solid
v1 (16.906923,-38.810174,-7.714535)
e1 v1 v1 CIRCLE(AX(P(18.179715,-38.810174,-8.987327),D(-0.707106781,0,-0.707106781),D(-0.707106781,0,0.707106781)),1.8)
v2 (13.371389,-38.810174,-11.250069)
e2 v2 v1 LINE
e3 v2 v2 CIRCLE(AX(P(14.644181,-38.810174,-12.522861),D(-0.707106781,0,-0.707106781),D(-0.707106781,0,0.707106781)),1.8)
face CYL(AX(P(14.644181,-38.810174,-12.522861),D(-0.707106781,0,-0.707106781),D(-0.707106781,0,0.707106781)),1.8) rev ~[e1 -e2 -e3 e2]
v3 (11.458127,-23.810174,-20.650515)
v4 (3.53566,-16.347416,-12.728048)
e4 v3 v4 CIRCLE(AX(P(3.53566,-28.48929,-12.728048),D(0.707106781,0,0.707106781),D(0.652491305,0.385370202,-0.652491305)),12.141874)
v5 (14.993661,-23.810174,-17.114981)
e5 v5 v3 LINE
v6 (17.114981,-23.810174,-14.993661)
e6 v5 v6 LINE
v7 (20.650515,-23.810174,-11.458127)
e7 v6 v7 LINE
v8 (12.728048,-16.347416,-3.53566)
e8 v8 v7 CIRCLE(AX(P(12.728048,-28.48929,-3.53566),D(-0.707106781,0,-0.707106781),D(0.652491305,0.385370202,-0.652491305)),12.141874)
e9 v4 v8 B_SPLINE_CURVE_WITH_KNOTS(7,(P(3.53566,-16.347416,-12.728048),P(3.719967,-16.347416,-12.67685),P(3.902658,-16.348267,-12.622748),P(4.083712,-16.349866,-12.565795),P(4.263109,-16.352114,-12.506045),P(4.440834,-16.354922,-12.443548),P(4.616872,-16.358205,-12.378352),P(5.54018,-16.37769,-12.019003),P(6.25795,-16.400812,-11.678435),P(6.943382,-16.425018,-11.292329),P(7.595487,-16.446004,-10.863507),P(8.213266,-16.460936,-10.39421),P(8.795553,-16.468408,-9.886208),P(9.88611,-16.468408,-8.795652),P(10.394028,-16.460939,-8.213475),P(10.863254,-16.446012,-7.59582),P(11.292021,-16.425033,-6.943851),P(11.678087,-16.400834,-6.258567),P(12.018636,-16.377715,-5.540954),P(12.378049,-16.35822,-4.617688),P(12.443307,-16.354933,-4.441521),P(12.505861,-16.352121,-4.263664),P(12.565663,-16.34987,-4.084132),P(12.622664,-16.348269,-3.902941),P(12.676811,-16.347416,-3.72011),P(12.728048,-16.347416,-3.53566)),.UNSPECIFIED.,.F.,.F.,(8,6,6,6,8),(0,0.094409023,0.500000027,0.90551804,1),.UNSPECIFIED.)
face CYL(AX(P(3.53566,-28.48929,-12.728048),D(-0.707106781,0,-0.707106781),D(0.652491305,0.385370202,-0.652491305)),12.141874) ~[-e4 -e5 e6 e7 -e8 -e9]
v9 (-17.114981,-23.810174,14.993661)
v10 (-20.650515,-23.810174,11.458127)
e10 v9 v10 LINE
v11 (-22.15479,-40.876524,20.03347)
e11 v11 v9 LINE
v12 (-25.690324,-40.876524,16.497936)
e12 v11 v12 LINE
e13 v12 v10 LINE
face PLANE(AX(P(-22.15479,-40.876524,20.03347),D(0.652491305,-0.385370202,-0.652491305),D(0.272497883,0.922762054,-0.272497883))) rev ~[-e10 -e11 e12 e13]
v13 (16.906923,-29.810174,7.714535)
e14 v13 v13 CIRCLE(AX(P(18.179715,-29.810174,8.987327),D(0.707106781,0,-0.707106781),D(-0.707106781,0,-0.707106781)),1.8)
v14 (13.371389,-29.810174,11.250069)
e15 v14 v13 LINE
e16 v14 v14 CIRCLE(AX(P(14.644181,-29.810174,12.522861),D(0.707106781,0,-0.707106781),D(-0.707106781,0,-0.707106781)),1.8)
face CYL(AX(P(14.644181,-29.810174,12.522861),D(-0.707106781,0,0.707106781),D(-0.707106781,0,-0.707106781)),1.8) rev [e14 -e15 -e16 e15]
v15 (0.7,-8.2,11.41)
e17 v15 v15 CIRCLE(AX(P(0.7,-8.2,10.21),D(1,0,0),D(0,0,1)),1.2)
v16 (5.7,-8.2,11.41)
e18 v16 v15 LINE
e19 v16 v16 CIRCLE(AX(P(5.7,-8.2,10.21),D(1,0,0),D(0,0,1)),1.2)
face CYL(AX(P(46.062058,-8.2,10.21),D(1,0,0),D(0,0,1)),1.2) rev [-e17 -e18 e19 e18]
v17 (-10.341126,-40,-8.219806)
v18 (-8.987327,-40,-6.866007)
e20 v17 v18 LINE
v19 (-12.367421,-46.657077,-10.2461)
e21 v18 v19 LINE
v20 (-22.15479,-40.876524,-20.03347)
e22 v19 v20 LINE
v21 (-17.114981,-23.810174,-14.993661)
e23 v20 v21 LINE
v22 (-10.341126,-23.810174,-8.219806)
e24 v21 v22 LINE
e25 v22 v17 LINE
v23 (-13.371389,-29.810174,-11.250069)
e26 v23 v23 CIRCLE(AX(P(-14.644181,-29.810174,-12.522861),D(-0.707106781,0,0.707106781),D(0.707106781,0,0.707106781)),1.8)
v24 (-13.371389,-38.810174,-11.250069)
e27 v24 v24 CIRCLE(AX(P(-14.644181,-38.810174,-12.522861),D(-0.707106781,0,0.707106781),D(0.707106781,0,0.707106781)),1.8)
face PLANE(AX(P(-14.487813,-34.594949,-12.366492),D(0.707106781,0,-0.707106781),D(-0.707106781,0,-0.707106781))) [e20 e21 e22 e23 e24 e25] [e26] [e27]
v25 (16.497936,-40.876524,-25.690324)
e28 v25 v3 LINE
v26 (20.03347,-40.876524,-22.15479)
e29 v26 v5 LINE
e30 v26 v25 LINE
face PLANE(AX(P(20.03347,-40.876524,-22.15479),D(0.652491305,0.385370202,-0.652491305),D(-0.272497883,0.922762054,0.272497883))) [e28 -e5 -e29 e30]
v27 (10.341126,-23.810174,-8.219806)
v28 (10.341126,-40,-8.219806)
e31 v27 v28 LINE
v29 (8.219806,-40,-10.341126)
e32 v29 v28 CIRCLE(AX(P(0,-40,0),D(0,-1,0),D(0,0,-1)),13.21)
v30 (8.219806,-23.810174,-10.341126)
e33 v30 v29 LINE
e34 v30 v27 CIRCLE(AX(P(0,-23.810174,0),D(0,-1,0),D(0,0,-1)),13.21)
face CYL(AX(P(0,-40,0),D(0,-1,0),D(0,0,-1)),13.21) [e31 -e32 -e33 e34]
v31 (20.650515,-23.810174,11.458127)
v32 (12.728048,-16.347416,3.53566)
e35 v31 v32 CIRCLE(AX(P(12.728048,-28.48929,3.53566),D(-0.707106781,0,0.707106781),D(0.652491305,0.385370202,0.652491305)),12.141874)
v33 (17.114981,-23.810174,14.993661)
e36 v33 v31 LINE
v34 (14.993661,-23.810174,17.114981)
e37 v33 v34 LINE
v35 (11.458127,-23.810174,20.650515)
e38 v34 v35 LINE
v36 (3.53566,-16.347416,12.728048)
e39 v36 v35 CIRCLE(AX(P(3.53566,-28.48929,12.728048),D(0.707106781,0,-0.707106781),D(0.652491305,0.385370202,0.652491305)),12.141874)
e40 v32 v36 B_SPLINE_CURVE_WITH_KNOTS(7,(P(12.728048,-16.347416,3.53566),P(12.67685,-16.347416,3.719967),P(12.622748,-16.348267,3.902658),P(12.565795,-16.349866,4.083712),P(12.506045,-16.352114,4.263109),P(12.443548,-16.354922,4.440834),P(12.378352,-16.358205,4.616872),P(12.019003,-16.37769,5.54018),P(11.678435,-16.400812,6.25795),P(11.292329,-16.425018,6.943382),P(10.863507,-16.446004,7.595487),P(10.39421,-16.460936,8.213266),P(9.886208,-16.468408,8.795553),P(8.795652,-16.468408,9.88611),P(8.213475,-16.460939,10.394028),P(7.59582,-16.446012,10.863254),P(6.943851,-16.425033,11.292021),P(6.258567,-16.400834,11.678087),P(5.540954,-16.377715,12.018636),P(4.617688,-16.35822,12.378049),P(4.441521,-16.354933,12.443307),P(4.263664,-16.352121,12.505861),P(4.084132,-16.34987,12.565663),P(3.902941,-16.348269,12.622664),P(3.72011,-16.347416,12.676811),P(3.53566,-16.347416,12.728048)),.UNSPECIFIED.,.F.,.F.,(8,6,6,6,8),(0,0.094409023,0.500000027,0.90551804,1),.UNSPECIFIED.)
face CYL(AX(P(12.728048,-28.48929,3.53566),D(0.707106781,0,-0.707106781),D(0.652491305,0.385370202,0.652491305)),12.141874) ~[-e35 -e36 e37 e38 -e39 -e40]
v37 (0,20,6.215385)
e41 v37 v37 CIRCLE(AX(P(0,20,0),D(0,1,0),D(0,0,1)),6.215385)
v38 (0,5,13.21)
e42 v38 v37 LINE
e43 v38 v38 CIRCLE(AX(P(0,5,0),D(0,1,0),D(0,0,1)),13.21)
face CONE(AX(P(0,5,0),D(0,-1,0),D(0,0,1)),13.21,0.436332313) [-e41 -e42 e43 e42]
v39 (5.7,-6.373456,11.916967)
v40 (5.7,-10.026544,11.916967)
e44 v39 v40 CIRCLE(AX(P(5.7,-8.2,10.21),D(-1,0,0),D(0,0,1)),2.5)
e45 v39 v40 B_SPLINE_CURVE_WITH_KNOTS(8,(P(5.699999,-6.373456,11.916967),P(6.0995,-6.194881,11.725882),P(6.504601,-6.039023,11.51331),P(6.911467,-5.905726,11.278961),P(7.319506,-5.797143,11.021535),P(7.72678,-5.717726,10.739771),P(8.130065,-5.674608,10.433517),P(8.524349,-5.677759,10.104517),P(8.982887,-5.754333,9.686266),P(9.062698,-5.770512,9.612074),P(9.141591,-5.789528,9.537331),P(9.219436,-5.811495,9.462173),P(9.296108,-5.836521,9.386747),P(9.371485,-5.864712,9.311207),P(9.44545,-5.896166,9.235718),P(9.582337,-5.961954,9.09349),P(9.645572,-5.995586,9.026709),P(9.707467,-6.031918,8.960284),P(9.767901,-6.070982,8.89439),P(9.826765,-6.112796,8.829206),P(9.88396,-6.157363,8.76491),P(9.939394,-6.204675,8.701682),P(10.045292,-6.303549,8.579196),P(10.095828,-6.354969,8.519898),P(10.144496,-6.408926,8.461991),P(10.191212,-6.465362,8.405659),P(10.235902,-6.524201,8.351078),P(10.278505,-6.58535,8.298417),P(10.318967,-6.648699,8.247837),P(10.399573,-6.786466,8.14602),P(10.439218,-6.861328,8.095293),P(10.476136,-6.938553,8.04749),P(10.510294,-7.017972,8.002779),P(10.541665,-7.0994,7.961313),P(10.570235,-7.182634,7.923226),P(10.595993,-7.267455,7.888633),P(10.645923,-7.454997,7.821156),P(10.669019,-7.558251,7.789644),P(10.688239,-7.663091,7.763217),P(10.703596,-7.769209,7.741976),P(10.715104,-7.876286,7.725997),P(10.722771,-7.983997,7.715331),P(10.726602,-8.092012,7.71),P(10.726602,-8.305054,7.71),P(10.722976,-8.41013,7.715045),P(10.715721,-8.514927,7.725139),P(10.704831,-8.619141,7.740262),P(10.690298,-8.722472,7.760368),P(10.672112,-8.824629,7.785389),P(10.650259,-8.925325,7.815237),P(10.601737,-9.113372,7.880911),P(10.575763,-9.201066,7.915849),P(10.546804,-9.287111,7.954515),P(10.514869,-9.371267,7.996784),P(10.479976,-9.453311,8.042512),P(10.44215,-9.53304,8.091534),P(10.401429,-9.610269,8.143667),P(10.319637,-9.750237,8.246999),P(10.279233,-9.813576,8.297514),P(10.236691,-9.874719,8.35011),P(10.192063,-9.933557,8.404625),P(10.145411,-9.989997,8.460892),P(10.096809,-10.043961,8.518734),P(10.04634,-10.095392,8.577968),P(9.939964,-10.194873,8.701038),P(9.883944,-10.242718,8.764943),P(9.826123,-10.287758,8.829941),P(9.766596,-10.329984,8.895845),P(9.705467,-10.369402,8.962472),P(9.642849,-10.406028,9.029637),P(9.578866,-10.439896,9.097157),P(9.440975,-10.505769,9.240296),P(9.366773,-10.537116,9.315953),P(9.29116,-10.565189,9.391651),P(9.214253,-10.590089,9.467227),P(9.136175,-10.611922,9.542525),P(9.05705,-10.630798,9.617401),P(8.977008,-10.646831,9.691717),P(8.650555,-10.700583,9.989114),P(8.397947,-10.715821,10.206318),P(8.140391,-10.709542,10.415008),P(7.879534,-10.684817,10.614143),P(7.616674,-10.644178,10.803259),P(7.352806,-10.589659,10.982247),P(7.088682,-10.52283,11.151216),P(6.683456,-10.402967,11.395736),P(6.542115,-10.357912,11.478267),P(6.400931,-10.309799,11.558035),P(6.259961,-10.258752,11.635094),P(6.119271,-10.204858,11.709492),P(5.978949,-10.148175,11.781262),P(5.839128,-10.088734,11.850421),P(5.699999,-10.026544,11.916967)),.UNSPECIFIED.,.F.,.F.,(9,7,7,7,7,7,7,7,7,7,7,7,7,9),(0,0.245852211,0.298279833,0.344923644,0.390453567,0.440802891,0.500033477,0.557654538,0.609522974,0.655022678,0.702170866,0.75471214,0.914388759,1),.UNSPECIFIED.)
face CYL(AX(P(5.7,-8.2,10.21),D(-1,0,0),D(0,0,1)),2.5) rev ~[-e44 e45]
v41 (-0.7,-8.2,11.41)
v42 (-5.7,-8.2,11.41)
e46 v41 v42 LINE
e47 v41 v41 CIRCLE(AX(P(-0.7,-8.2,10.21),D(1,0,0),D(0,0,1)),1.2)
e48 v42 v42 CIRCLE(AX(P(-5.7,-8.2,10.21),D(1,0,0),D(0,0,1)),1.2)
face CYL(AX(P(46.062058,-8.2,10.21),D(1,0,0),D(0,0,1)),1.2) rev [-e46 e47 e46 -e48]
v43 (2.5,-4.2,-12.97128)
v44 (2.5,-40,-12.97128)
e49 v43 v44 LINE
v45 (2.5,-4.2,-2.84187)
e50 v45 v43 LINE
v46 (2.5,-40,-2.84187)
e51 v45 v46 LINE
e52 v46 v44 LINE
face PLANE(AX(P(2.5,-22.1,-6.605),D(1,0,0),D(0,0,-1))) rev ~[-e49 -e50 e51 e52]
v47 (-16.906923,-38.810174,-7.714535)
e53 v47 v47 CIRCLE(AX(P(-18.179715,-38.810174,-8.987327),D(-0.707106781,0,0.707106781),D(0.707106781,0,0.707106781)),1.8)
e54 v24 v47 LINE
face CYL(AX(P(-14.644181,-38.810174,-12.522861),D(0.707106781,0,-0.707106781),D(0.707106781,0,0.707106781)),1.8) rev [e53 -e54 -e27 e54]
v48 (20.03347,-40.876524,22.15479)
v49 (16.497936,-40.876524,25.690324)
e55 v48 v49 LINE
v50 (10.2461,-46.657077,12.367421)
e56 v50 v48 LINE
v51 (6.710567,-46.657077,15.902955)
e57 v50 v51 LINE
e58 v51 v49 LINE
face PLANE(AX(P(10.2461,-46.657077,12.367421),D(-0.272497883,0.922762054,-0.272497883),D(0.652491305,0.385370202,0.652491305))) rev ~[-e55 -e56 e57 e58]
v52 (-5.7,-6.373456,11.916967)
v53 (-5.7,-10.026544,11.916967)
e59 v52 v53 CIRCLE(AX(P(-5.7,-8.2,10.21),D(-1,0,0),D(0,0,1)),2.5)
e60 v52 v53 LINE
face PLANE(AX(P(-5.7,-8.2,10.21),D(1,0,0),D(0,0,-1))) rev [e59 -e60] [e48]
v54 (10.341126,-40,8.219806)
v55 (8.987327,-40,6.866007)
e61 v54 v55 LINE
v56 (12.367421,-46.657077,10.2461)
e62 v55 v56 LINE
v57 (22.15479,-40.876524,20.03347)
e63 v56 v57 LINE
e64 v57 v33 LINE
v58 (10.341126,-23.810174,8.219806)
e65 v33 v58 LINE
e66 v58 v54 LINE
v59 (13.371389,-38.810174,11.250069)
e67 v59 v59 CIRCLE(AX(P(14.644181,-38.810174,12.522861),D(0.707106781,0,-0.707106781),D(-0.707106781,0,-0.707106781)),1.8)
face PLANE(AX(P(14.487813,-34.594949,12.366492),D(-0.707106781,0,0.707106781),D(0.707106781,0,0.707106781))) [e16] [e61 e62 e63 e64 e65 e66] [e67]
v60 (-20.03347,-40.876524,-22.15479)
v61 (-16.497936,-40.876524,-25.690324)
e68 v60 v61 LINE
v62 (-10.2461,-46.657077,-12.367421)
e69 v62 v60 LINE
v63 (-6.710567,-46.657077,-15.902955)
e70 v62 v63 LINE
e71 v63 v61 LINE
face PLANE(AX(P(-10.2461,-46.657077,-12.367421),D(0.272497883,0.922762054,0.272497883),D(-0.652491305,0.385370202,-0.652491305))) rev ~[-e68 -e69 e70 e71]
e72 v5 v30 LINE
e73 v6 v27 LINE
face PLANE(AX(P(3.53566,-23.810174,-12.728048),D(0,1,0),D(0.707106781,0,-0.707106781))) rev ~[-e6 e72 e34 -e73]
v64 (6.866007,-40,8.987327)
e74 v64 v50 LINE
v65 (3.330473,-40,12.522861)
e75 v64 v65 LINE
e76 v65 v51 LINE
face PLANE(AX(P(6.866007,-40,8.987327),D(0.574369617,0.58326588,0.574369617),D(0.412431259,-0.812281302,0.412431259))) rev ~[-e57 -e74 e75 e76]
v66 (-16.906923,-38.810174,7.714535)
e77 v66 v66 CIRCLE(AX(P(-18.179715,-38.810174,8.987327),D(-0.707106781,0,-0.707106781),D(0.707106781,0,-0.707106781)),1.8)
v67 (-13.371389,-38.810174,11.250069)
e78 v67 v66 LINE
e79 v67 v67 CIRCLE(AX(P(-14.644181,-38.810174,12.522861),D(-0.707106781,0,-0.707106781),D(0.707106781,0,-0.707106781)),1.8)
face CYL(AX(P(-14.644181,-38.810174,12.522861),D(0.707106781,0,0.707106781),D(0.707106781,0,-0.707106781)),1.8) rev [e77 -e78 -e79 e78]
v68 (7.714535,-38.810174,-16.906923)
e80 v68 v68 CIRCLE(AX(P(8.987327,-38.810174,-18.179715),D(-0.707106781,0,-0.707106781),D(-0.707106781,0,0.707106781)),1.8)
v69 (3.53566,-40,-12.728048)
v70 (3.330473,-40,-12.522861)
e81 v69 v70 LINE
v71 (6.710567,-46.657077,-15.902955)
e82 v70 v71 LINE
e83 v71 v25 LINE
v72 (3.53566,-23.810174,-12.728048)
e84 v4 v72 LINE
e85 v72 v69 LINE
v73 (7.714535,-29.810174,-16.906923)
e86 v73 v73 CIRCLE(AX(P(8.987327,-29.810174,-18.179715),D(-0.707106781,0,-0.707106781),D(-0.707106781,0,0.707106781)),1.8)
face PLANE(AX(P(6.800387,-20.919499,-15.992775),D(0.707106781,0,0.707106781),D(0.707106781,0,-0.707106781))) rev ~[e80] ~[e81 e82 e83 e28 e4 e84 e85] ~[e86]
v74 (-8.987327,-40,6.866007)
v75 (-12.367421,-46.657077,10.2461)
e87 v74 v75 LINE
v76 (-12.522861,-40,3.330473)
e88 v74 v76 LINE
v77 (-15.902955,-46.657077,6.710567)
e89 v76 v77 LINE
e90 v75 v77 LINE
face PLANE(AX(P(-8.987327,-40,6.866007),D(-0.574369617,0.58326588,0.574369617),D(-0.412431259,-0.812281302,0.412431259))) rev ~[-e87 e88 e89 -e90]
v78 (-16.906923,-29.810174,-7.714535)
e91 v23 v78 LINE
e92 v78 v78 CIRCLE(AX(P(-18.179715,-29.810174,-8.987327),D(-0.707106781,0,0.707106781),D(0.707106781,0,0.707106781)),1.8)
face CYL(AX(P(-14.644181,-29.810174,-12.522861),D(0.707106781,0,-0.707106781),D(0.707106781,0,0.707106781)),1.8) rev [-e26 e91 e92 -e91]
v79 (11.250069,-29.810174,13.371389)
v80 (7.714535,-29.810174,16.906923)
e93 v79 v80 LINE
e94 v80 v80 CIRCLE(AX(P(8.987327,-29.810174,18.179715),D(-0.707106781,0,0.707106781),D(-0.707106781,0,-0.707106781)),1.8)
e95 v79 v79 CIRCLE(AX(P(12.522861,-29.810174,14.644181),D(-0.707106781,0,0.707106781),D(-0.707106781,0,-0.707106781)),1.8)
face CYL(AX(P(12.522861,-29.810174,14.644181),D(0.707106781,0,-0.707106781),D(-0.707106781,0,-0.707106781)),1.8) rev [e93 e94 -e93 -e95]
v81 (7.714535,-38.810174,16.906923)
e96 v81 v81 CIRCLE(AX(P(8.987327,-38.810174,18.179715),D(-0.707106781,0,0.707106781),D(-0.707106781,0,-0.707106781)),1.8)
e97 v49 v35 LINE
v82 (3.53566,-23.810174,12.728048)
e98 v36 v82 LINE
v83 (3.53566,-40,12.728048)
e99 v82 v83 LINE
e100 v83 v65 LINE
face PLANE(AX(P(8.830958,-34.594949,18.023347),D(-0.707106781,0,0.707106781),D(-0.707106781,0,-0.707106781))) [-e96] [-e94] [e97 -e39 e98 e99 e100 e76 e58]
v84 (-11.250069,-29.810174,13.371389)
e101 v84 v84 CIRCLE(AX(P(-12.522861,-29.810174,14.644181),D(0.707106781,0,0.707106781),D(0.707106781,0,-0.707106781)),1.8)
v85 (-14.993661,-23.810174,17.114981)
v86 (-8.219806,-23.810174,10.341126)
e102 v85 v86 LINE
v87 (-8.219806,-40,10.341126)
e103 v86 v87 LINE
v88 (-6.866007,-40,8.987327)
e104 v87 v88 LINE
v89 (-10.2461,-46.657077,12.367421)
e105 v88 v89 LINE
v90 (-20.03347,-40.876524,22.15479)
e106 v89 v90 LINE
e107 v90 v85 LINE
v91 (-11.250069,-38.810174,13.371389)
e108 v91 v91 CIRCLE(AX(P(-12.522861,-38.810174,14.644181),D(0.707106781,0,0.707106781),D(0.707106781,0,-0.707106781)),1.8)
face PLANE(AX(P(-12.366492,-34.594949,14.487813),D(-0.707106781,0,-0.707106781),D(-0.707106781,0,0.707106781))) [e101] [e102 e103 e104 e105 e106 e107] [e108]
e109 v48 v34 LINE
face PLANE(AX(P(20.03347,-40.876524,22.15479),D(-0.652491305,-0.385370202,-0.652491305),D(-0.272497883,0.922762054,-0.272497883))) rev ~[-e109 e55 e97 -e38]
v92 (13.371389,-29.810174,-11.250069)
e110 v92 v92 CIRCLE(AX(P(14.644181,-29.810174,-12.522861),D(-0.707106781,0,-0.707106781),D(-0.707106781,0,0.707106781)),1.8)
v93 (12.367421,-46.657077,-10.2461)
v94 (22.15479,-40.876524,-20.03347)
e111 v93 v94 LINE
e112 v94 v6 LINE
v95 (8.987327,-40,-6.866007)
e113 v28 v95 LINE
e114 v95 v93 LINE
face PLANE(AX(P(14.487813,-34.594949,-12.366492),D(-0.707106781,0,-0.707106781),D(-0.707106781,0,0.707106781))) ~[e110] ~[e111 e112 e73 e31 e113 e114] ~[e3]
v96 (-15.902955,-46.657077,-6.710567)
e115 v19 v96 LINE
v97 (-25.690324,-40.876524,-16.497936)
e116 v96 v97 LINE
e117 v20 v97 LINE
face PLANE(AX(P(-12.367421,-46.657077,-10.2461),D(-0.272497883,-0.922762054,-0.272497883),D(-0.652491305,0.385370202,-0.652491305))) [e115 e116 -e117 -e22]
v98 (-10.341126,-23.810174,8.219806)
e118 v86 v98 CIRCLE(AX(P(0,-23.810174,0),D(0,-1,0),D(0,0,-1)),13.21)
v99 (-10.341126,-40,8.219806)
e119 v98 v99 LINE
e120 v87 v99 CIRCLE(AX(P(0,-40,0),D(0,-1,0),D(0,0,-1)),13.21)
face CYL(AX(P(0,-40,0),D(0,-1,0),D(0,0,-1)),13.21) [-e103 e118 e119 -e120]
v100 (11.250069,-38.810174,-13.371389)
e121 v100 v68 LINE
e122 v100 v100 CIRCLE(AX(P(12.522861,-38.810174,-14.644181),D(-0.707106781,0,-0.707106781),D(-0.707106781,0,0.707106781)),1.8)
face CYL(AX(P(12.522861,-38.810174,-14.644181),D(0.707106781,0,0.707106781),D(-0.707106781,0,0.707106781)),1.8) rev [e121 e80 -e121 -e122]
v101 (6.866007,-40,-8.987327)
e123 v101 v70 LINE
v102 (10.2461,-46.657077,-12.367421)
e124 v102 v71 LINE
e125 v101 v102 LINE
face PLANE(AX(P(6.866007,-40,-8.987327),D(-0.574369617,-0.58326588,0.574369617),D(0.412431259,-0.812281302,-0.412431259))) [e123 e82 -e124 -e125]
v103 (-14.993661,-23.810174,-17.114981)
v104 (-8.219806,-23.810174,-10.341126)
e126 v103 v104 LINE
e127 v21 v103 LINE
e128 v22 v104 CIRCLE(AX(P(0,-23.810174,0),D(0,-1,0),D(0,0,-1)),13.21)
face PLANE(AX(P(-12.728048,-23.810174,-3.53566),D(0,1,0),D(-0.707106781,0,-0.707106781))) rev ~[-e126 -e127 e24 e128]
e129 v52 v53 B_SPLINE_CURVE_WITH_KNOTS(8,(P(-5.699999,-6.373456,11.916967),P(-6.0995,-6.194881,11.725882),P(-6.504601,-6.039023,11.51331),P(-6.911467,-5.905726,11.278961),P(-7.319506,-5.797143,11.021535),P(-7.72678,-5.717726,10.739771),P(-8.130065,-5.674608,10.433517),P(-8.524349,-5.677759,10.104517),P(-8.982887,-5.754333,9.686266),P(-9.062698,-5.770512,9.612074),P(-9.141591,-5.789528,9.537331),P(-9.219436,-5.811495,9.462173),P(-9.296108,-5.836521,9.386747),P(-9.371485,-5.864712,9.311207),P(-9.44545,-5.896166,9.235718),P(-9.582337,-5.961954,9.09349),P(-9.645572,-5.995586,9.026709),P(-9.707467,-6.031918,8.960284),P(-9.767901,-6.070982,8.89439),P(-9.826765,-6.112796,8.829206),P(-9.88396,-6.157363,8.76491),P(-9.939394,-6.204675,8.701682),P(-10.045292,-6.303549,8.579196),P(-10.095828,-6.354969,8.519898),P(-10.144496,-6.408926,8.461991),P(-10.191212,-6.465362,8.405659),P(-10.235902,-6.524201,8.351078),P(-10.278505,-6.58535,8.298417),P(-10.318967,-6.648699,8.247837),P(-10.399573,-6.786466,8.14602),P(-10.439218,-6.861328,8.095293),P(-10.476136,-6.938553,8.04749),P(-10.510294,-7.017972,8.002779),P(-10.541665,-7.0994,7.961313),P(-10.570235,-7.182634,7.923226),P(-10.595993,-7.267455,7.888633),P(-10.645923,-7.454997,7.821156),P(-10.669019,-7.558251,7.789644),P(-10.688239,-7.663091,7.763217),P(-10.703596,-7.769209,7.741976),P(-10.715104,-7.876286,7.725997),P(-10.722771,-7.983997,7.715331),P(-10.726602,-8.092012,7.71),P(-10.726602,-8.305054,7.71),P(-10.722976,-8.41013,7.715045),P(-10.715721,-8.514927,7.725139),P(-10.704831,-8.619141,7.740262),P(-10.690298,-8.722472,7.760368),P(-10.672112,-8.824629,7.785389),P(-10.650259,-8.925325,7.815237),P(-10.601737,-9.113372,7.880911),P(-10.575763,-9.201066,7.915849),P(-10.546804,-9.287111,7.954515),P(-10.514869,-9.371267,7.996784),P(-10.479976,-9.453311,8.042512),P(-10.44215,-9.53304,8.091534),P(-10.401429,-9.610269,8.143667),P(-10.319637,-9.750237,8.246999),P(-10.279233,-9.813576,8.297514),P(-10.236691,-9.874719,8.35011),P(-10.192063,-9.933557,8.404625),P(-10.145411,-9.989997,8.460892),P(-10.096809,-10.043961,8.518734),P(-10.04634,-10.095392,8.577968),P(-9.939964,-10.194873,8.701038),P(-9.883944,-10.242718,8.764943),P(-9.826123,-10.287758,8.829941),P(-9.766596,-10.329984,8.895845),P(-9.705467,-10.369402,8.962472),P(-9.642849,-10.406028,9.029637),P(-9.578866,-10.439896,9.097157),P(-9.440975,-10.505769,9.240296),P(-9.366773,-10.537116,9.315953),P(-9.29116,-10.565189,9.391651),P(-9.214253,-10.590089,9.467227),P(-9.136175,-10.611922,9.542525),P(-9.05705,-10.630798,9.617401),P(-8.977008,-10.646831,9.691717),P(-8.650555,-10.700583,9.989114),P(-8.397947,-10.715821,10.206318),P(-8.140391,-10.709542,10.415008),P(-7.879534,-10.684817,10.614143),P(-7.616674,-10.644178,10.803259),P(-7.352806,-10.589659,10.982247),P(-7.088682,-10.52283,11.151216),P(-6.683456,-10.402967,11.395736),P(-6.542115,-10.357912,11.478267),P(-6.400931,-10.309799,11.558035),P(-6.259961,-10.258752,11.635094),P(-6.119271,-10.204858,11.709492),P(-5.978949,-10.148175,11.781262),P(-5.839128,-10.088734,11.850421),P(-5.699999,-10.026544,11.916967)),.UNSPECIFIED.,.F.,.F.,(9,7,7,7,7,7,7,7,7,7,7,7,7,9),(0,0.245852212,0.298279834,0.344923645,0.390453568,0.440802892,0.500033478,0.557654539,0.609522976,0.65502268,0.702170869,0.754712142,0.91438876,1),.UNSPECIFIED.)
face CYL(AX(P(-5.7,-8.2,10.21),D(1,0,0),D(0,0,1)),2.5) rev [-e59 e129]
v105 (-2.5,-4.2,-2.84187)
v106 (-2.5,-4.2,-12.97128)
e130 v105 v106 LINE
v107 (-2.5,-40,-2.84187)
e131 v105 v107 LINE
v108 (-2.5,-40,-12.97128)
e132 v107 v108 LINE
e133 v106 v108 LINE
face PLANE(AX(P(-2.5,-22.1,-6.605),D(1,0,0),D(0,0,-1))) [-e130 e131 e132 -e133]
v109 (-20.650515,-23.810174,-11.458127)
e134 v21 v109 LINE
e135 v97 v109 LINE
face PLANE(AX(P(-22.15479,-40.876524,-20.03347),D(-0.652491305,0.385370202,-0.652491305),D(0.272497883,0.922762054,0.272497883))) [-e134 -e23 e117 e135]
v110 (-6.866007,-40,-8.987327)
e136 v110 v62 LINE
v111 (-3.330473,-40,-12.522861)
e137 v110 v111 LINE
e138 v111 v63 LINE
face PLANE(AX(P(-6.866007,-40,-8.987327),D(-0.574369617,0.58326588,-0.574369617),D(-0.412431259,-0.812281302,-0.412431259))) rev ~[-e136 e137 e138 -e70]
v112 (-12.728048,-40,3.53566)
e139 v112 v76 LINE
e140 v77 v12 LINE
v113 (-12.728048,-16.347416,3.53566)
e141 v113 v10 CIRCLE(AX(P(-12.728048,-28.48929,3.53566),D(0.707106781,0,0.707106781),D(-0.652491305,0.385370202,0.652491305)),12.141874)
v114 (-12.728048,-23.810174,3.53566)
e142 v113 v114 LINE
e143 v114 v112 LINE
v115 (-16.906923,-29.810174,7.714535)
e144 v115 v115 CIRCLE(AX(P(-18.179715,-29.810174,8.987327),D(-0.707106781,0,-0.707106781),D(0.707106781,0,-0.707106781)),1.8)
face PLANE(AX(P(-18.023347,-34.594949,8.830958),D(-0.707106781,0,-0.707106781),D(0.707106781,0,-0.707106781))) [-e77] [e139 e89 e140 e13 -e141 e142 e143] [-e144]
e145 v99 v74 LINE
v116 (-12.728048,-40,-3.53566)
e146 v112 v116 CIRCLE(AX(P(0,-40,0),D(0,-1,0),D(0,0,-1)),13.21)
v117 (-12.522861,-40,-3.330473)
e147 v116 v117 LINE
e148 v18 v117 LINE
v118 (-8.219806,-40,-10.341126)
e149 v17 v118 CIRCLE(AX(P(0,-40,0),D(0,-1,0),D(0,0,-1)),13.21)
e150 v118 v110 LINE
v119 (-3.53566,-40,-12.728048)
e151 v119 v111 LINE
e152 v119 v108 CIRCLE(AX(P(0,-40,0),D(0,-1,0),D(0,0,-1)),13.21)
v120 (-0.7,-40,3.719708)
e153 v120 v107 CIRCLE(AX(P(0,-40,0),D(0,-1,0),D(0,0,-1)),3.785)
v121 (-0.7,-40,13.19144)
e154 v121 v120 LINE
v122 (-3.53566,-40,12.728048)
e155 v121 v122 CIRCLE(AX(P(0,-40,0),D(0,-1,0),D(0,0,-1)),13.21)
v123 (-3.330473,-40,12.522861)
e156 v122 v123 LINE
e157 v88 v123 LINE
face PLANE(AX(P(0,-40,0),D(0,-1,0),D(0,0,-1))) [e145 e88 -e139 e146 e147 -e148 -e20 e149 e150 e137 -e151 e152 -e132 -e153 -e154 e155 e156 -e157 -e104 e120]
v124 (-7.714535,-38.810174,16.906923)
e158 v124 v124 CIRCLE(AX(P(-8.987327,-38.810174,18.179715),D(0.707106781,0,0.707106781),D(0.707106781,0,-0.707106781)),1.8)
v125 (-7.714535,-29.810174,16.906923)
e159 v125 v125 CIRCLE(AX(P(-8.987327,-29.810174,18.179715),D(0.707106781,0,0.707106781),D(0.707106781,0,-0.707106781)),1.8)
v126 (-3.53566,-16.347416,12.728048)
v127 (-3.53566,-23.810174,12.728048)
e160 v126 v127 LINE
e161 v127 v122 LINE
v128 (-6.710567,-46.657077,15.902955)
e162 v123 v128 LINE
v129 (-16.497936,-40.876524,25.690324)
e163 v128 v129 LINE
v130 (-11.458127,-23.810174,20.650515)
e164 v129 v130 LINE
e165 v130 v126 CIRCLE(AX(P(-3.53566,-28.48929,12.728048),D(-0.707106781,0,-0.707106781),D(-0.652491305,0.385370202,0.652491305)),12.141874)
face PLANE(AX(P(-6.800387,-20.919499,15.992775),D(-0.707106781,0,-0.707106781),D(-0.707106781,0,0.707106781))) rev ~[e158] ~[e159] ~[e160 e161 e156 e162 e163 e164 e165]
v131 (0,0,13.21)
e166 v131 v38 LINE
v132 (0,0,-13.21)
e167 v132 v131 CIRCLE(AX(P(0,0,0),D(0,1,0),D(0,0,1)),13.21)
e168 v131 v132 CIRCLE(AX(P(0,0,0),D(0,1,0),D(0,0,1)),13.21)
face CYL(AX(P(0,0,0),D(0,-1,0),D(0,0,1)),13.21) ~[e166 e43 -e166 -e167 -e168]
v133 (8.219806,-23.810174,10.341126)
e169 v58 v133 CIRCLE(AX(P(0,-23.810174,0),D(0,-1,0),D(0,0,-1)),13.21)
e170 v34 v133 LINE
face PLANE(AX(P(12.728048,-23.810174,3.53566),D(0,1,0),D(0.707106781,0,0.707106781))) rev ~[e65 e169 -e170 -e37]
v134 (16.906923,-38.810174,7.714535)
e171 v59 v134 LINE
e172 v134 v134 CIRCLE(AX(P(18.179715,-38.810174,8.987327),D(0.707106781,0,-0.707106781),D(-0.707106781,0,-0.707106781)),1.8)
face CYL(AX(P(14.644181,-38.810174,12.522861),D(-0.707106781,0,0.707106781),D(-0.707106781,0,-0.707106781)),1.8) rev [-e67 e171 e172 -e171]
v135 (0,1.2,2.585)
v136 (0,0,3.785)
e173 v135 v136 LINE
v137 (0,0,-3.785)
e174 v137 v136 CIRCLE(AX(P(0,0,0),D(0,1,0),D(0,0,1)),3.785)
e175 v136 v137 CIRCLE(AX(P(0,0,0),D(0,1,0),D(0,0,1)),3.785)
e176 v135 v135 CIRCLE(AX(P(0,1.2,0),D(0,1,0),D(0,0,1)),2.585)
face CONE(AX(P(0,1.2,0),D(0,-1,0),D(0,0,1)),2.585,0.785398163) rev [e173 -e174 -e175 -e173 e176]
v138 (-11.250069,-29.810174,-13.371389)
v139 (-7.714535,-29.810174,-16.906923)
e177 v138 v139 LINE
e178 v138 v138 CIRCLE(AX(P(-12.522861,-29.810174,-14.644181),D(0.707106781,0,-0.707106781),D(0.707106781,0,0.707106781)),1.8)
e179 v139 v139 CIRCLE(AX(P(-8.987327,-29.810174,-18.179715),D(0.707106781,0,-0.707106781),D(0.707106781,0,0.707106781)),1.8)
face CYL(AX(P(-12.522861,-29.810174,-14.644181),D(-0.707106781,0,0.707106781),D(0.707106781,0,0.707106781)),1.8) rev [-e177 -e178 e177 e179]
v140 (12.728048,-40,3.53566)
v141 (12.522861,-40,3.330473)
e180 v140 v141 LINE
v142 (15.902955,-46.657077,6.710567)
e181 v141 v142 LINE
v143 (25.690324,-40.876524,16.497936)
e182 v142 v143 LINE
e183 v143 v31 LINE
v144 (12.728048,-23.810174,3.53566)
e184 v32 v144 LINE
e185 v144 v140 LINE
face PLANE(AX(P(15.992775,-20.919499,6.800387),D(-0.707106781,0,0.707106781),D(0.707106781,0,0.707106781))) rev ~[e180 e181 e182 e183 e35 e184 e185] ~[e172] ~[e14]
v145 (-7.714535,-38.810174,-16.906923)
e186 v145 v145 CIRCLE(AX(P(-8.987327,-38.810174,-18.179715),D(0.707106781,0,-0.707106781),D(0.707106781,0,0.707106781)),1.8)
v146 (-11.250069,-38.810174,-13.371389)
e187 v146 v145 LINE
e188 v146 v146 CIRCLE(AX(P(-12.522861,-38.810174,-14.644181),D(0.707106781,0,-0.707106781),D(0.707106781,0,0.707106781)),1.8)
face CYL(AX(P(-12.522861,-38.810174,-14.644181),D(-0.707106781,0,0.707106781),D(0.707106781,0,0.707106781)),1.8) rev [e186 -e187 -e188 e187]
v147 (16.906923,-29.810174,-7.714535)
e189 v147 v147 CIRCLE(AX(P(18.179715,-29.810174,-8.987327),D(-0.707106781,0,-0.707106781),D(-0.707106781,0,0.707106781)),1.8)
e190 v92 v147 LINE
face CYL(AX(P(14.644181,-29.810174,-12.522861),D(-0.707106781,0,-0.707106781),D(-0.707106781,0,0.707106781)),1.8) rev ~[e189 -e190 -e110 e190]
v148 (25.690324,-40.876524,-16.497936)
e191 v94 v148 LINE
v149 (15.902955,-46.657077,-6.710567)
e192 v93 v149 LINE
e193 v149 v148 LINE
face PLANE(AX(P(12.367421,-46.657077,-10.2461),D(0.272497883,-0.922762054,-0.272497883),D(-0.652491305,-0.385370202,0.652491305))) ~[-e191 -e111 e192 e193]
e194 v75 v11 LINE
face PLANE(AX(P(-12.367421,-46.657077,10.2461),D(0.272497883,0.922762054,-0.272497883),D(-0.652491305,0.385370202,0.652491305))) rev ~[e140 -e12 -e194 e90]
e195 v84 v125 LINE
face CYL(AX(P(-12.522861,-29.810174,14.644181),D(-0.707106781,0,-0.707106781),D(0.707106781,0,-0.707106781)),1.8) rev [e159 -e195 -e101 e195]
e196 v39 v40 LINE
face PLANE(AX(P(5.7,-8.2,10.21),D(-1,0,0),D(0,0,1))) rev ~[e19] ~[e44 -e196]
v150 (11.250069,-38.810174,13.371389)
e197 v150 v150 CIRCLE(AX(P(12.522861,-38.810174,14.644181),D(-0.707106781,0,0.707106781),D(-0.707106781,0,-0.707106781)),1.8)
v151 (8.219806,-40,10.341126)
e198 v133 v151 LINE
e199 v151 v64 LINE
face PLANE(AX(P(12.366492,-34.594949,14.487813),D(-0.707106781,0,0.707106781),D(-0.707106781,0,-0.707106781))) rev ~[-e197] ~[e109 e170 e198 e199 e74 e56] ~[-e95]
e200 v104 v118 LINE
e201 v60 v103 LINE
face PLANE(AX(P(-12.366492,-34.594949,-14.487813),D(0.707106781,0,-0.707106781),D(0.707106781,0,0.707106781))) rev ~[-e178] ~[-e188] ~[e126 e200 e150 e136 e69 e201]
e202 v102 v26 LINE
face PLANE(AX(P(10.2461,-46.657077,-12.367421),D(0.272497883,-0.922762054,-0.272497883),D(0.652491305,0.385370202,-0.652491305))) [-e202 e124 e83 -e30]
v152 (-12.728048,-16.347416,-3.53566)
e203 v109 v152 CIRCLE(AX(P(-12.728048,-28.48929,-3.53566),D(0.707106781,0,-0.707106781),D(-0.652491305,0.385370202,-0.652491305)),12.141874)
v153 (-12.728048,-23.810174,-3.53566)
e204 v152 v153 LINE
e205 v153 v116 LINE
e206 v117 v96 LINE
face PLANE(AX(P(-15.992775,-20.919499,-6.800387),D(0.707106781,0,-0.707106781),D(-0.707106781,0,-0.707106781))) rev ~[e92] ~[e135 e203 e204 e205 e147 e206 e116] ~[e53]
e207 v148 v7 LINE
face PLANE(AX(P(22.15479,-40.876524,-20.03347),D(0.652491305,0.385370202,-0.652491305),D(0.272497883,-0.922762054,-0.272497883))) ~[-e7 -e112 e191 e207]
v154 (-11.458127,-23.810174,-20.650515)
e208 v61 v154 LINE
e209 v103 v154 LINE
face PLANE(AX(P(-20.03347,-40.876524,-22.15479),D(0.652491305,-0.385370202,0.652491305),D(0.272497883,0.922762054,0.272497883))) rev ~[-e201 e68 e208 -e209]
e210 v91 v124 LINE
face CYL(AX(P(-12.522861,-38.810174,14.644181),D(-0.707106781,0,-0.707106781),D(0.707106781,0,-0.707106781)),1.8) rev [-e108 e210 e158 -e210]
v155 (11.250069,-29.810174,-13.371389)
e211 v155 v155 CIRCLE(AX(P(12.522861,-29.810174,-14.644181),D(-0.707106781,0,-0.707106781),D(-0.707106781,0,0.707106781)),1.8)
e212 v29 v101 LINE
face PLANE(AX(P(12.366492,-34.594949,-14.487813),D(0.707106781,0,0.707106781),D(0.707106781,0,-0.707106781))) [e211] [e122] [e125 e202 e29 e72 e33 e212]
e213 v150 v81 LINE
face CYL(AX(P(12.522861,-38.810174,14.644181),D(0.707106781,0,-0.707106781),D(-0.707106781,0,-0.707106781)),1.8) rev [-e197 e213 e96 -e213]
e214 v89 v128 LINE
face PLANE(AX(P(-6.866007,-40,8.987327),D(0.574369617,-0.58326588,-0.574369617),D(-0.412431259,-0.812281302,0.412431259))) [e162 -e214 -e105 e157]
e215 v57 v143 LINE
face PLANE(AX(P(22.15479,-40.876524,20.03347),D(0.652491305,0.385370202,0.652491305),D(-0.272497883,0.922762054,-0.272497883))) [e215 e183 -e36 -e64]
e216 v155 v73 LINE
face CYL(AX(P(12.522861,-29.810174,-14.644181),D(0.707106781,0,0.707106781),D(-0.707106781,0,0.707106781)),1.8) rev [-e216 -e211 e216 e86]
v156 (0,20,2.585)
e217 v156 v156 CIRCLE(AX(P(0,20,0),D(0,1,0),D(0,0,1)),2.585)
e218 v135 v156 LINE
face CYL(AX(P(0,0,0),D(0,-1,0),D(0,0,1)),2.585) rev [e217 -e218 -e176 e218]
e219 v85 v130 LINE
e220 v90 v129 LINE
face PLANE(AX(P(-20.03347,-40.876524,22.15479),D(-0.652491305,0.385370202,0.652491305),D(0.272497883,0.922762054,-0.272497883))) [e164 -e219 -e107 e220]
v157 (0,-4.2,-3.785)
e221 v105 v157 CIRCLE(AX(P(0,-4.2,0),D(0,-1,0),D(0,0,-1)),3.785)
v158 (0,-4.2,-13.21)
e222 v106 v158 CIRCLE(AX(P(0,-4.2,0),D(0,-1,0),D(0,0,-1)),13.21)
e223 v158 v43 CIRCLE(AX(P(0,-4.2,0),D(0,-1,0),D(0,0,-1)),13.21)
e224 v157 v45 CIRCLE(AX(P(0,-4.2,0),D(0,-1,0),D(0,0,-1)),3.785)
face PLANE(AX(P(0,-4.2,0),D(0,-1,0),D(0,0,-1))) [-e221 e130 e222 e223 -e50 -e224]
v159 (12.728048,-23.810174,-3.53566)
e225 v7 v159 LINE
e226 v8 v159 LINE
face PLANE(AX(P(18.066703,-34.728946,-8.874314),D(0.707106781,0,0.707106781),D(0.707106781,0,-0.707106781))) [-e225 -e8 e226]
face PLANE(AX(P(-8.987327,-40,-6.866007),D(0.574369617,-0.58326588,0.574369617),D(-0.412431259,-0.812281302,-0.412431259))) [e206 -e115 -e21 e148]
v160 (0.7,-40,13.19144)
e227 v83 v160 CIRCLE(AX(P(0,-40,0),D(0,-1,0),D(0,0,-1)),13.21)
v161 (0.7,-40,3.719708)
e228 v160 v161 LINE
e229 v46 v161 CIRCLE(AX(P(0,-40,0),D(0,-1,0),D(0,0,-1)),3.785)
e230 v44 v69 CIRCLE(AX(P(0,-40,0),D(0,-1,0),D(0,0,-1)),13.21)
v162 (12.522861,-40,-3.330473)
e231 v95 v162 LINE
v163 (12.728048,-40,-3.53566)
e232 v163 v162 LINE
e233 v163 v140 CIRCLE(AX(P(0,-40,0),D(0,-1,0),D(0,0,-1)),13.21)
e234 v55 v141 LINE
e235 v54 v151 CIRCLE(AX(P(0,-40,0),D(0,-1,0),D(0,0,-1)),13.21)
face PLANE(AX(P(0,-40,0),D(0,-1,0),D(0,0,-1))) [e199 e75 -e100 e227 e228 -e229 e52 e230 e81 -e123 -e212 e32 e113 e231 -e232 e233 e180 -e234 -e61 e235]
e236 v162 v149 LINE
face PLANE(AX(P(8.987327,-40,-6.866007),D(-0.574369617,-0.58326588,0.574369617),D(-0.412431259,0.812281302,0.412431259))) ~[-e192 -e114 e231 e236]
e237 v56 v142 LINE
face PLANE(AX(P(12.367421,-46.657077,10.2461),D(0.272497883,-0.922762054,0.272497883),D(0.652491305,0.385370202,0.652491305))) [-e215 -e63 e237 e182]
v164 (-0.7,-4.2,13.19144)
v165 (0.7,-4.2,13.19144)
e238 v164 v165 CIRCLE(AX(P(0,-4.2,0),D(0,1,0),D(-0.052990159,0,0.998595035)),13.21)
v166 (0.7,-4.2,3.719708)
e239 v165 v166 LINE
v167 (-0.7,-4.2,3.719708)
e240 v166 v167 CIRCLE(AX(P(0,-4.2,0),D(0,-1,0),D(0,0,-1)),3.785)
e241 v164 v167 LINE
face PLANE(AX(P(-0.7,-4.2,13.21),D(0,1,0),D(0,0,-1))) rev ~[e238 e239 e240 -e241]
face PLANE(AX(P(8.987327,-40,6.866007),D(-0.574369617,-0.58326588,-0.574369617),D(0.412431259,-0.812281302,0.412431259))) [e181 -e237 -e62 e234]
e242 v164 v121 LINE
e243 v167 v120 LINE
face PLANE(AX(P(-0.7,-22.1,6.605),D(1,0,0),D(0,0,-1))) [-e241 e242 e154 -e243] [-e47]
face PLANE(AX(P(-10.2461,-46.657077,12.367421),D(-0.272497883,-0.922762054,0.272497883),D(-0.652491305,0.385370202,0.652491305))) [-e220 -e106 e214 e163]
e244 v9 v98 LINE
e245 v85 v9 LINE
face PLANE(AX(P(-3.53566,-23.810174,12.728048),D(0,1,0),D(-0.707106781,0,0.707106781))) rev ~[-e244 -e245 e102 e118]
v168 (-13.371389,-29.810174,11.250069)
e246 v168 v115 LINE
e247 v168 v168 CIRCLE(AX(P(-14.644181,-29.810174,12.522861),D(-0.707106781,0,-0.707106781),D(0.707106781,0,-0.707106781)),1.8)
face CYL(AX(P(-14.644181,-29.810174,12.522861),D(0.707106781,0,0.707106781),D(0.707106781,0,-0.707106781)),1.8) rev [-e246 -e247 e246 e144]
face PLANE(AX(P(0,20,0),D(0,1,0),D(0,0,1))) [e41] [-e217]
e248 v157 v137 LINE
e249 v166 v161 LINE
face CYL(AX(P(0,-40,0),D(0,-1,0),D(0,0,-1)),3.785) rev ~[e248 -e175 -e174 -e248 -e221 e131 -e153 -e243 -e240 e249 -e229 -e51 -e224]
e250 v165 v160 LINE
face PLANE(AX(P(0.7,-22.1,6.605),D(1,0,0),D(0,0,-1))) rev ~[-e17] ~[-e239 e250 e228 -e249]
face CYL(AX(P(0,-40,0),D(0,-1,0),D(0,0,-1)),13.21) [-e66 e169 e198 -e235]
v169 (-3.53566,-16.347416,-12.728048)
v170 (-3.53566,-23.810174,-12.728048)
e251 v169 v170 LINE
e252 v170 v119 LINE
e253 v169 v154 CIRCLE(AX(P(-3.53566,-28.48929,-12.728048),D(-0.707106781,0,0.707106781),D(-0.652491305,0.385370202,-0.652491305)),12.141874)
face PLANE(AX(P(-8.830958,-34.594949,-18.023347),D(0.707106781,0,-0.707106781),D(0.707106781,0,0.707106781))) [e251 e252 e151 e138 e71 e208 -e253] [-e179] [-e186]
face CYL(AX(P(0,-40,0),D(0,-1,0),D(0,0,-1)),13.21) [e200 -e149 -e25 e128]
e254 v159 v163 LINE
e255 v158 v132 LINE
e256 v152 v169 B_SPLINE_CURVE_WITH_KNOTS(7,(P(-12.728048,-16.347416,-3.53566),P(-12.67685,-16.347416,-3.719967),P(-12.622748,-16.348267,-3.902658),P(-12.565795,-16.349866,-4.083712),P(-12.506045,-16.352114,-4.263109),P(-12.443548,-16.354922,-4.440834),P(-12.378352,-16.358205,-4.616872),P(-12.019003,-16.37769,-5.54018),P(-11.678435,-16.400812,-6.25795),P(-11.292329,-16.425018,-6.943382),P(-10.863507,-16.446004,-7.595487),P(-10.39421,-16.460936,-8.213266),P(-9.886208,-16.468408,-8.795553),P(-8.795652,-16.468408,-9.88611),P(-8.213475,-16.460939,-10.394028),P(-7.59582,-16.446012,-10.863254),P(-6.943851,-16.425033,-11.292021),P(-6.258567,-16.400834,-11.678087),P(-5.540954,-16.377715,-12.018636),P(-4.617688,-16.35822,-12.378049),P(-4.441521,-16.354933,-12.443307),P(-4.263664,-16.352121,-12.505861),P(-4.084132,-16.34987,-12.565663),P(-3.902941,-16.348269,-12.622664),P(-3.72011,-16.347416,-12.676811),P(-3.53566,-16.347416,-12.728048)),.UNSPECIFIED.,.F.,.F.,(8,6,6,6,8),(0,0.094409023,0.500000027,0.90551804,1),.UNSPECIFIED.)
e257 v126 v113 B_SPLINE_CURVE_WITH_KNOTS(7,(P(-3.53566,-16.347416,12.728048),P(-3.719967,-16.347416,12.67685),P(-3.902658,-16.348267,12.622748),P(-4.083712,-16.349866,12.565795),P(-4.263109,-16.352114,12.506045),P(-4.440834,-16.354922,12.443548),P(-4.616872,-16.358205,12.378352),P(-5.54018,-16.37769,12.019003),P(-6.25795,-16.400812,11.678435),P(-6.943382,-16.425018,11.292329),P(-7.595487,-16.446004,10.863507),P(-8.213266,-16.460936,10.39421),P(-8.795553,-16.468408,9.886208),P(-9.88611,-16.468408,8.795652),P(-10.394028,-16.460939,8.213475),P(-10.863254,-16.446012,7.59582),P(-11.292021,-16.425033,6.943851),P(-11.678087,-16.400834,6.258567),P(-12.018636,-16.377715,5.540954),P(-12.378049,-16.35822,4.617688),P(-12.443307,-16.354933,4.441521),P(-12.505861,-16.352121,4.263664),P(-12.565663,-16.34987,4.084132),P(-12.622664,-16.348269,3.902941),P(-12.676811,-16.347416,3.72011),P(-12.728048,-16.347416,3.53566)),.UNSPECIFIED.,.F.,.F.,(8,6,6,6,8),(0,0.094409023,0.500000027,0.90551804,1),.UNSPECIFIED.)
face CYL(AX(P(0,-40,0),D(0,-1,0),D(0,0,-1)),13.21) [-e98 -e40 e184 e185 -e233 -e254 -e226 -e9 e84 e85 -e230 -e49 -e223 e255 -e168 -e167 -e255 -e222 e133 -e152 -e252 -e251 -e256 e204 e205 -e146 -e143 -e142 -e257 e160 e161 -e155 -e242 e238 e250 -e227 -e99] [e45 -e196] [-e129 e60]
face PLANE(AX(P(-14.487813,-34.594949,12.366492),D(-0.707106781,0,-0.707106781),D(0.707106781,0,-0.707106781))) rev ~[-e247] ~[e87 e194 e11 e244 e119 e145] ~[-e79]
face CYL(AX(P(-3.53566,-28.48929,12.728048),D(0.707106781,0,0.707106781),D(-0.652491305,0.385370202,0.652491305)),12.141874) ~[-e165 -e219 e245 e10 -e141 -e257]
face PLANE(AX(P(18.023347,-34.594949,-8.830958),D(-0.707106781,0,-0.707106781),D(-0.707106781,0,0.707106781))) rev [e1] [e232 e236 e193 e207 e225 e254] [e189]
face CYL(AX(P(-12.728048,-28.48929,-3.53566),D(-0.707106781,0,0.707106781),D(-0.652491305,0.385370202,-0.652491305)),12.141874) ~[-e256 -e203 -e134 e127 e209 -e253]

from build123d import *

# Parameters (mm, degrees)
SKETCH1_R                   = 13.21
SKETCH1_R_2                 = 2.585
BOSS_EXTRUDE1_DEPTH         = 20
CHAMFER1_SIZE               = 1.2
BOSS_EXTRUDE5_START         = 40
SKETCH7_R                   = 13.21
SKETCH7_R_2                 = 3.785
BOSS_EXTRUDE5_DEPTH         = 40
CUT_EXTRUDE3_DEPTH          = 0.7
CUT_EXTRUDE3_DEPTH_BACK     = 0.7
SKETCH8_W                   = 13.21
SKETCH8_H                   = 35.8
SKETCH11_W                  = 13.21
SKETCH11_H                  = 35.8
CUT_EXTRUDE5_DEPTH          = 2.5
CUT_EXTRUDE6_DEPTH          = 45.362058113
CUT_EXTRUDE6_DEPTH_BACK     = 45.362058113
SKETCH12_R                  = 1.2
SKETCH13_R                  = 2.5
CUT_EXTRUDE7_DEPTH          = 47.174584074
SKETCH15_R                  = 1.8
BOSS_EXTRUDE6_DEPTH         = 5
BOSS_EXTRUDE7_REACH         = 61.49
CIRPATTERN2_COUNT           = 4
CIRPATTERN2_COPY_1_SKETCH_R = 1.8
CIRPATTERN2_COPY_1_DEPTH    = 5
CIRPATTERN2_COPY_2_SKETCH_R = 1.8
CIRPATTERN2_COPY_2_DEPTH    = 5
CIRPATTERN2_COPY_3_SKETCH_R = 1.8
CIRPATTERN2_COPY_3_DEPTH    = 5
CHAMFER2_SIZE               = 15
CHAMFER2_SIZE2              = 6.994614872


with BuildPart() as part:
    # Sketch1 → Boss-Extrude1 (new body)
    with BuildSketch(Plane(origin=(0, 0, 0), x_dir=(1, 0, 0), z_dir=(0, 1, 0))):
        with Locations(Location((0, 0, 0), (0, 0, 270))):
            Circle(SKETCH1_R)
        with Locations(Location((0, 0, 0), (0, 0, 270))):
            Circle(SKETCH1_R_2, mode=Mode.SUBTRACT)
    extrude(amount=BOSS_EXTRUDE1_DEPTH)

    # Chamfer1
    chamfer1_edges = [part.edges().sort_by_distance(p)[0] for p in [
        (0, 0, -2.585),
    ]]
    chamfer(chamfer1_edges, length=CHAMFER1_SIZE)

    # Sketch7 → Boss-Extrude5 (add)
    with BuildSketch(Plane.XZ.offset(BOSS_EXTRUDE5_START)):
        with Locations(Location((0, 0, 0), (0, 0, 270))):
            Circle(SKETCH7_R)
        with Locations(Location((0, 0, 0), (0, 0, 270))):
            Circle(SKETCH7_R_2, mode=Mode.SUBTRACT)
    extrude(amount=-BOSS_EXTRUDE5_DEPTH)

    # Sketch8 → Cut-Extrude3 (cut, two sides: drawn at the far end of the back side and taken through both)
    with BuildSketch(Plane(origin=(0, 0, 0), x_dir=(0, 0, -1), z_dir=(1, 0, 0)).offset(-CUT_EXTRUDE3_DEPTH_BACK)):
        with Locations((-6.605, -22.1)):
            Rectangle(SKETCH8_W, SKETCH8_H)
    extrude(amount=CUT_EXTRUDE3_DEPTH + CUT_EXTRUDE3_DEPTH_BACK, mode=Mode.SUBTRACT)

    # Sketch11 → Cut-Extrude5 (cut, symmetric)
    with BuildSketch(Plane(origin=(0, 0, 0), x_dir=(0, 0, -1), z_dir=(1, 0, 0))):
        with Locations((6.605, -22.1)):
            Rectangle(SKETCH11_W, SKETCH11_H)
    extrude(amount=CUT_EXTRUDE5_DEPTH, both=True, mode=Mode.SUBTRACT)

    # Sketch12 → Cut-Extrude6 (cut, two sides: drawn at the far end of the back side and taken through both)
    with BuildSketch(Plane.ZY.offset(-0.7).offset(-CUT_EXTRUDE6_DEPTH_BACK)):
        with Locations((10.21, -8.2)):
            Circle(SKETCH12_R)
    extrude(amount=CUT_EXTRUDE6_DEPTH + CUT_EXTRUDE6_DEPTH_BACK, mode=Mode.SUBTRACT)

    # Sketch13 → Cut-Extrude7 (cut, through all)
    with BuildSketch(Plane.ZY.offset(-5.7)):
        with Locations((10.21, -8.2)):
            Circle(SKETCH13_R)
    cut_extrude7 = extrude(amount=-CUT_EXTRUDE7_DEPTH, mode=Mode.SUBTRACT)

    # Mirror2: Cut-Extrude7 across plane
    add(cut_extrude7.mirror(Plane(origin=(0, 0, 0), x_dir=(0, 0, 1), z_dir=(1, 0, 0))), mode=Mode.SUBTRACT)

    # Sketch15 → Boss-Extrude6 (add)
    with BuildSketch(Plane(origin=(-1.060660172, 0, -1.060660172), x_dir=(-0.7071067811865488, -3.372135297382167e-15, 0.7071067811865462), z_dir=(-0.7071067811865462, 3.3721352973821793e-15, -0.7071067811865488))):
        Polygon((-22.70423895, -23.81017386), (-11.21, -23.81017386), (-11.21, -35.211035784), (-11.21, -40), (-15.990174244, -46.657077484), (-29.831605047, -40.876524454), align=None)
        with Locations((-19.21, -29.81017386)):
            Circle(SKETCH15_R, mode=Mode.SUBTRACT)
        with Locations((-19.21, -38.81017386)):
            Circle(SKETCH15_R, mode=Mode.SUBTRACT)
    boss_extrude6 = extrude(amount=BOSS_EXTRUDE6_DEPTH)

    # Mirror3: Boss-Extrude6 across plane
    add(boss_extrude6.mirror(Plane(origin=(0, 0, 0), x_dir=(-0.7071067811865488, 3.3721352973821916e-15, 0.7071067811865464), z_dir=(0.7071067811865462, -3.3721352973821793e-15, 0.7071067811865488))))

    # Boss-Extrude7: up to this face of the body (flat: up to its plane)
    boss_extrude7_end = Plane(part.part.faces().sort_by_distance((18.066702505, -34.728946199, -8.87431435))[0])
    # Sketch16 → Boss-Extrude7 (add, up to the picked face)
    with BuildSketch(Plane(origin=(-4.596194078, 0, -4.596194078), x_dir=(-0.7071067811865486, -3.1363800445660566e-15, 0.7071067811865465), z_dir=(-0.7071067811865465, 3.1363800445660664e-15, -0.7071067811865486)), mode=Mode.PRIVATE) as boss_extrude7_sk1:
        with BuildLine():
            Line((-11.500178259, -23.81017386), (-22.70423895, -23.81017386))
            ThreePointArc((-22.70423895, -23.81017386), (-18.231146382, -18.383887076), (-11.500178259, -16.347416226))
            Line((-11.500178259, -16.347416226), (-11.500178259, -23.81017386))
        make_face()
    boss_extrude7_tool1 = split(extrude(boss_extrude7_sk1.sketch, amount=-BOSS_EXTRUDE7_REACH, mode=Mode.PRIVATE), bisect_by=boss_extrude7_end, keep=Keep.BOTH, mode=Mode.PRIVATE)
    boss_extrude7 = boss_extrude7_tool1.solids().sort_by(Axis((6.682248, -20.729124, -15.874636), (0.7071067811865465, -3.1363800445660664e-15, 0.7071067811865486)))[0]
    add(boss_extrude7)

    # CirPattern2: Boss-Extrude6, Boss-Extrude7 ×4 about axis
    cirpattern2_axis = Axis((0, 0, 0), (0, 1, 0))
    add([boss_extrude6.rotate(cirpattern2_axis, i * 360 / CIRPATTERN2_COUNT) for i in range(1, CIRPATTERN2_COUNT)])
    add([boss_extrude7.rotate(cirpattern2_axis, i * 360 / CIRPATTERN2_COUNT) for i in range(1, CIRPATTERN2_COUNT)])

    # CirPattern2 copy 1 sketch → CirPattern2 copy 1 (add)
    with BuildSketch(Plane(origin=(1.060660172, 0, -1.060660172), x_dir=(0.7071067811865462, -3.372135297382167e-15, 0.7071067811865489), z_dir=(0.7071067811865488, -3.3721352973821793e-15, -0.7071067811865461))):
        Polygon((-22.70423895, 23.81017386), (-11.21, 23.81017386), (-11.21, 35.211035784), (-11.21, 40), (-15.990174244, 46.657077484), (-29.831605047, 40.876524454), align=None)
        with Locations((-19.21, 29.81017386)):
            Circle(CIRPATTERN2_COPY_1_SKETCH_R, mode=Mode.SUBTRACT)
        with Locations((-19.21, 38.81017386)):
            Circle(CIRPATTERN2_COPY_1_SKETCH_R, mode=Mode.SUBTRACT)
    extrude(amount=CIRPATTERN2_COPY_1_DEPTH)

    # CirPattern2 copy 2 sketch → CirPattern2 copy 2 (add)
    with BuildSketch(Plane(origin=(-1.060660172, 0, -1.060660172), x_dir=(0.7071067811865489, -3.372135297382167e-15, -0.7071067811865462), z_dir=(-0.7071067811865461, -3.3721352973821793e-15, -0.7071067811865488))):
        Polygon((-22.70423895, 23.81017386), (-11.21, 23.81017386), (-11.21, 35.211035784), (-11.21, 40), (-15.990174244, 46.657077484), (-29.831605047, 40.876524454), align=None)
        with Locations((-19.21, 29.81017386)):
            Circle(CIRPATTERN2_COPY_2_SKETCH_R, mode=Mode.SUBTRACT)
        with Locations((-19.21, 38.81017386)):
            Circle(CIRPATTERN2_COPY_2_SKETCH_R, mode=Mode.SUBTRACT)
    extrude(amount=CIRPATTERN2_COPY_2_DEPTH)

    # CirPattern2 copy 3 sketch → CirPattern2 copy 3 (add)
    with BuildSketch(Plane(origin=(-1.060660172, 0, 1.060660172), x_dir=(-0.7071067811865461, -3.372135297382167e-15, -0.707106781186549), z_dir=(-0.7071067811865489, -3.3721352973821793e-15, 0.707106781186546))):
        Polygon((-22.70423895, 23.81017386), (-11.21, 23.81017386), (-11.21, 35.211035784), (-11.21, 40), (-15.990174244, 46.657077484), (-29.831605047, 40.876524454), align=None)
        with Locations((-19.21, 29.81017386)):
            Circle(CIRPATTERN2_COPY_3_SKETCH_R, mode=Mode.SUBTRACT)
        with Locations((-19.21, 38.81017386)):
            Circle(CIRPATTERN2_COPY_3_SKETCH_R, mode=Mode.SUBTRACT)
    extrude(amount=CIRPATTERN2_COPY_3_DEPTH)

    # Chamfer2
    chamfer2_edges = [part.edges().sort_by_distance(p)[0] for p in [
        (0, 20, -13.21),
    ]]
    chamfer2_side = [part.faces().sort_by_distance(p)[0] for p in [
        (0, 10, -13.21),
    ]]
    chamfer(chamfer2_edges, length=CHAMFER2_SIZE, length2=CHAMFER2_SIZE2, reference=chamfer2_side[0])


solid = part.part
